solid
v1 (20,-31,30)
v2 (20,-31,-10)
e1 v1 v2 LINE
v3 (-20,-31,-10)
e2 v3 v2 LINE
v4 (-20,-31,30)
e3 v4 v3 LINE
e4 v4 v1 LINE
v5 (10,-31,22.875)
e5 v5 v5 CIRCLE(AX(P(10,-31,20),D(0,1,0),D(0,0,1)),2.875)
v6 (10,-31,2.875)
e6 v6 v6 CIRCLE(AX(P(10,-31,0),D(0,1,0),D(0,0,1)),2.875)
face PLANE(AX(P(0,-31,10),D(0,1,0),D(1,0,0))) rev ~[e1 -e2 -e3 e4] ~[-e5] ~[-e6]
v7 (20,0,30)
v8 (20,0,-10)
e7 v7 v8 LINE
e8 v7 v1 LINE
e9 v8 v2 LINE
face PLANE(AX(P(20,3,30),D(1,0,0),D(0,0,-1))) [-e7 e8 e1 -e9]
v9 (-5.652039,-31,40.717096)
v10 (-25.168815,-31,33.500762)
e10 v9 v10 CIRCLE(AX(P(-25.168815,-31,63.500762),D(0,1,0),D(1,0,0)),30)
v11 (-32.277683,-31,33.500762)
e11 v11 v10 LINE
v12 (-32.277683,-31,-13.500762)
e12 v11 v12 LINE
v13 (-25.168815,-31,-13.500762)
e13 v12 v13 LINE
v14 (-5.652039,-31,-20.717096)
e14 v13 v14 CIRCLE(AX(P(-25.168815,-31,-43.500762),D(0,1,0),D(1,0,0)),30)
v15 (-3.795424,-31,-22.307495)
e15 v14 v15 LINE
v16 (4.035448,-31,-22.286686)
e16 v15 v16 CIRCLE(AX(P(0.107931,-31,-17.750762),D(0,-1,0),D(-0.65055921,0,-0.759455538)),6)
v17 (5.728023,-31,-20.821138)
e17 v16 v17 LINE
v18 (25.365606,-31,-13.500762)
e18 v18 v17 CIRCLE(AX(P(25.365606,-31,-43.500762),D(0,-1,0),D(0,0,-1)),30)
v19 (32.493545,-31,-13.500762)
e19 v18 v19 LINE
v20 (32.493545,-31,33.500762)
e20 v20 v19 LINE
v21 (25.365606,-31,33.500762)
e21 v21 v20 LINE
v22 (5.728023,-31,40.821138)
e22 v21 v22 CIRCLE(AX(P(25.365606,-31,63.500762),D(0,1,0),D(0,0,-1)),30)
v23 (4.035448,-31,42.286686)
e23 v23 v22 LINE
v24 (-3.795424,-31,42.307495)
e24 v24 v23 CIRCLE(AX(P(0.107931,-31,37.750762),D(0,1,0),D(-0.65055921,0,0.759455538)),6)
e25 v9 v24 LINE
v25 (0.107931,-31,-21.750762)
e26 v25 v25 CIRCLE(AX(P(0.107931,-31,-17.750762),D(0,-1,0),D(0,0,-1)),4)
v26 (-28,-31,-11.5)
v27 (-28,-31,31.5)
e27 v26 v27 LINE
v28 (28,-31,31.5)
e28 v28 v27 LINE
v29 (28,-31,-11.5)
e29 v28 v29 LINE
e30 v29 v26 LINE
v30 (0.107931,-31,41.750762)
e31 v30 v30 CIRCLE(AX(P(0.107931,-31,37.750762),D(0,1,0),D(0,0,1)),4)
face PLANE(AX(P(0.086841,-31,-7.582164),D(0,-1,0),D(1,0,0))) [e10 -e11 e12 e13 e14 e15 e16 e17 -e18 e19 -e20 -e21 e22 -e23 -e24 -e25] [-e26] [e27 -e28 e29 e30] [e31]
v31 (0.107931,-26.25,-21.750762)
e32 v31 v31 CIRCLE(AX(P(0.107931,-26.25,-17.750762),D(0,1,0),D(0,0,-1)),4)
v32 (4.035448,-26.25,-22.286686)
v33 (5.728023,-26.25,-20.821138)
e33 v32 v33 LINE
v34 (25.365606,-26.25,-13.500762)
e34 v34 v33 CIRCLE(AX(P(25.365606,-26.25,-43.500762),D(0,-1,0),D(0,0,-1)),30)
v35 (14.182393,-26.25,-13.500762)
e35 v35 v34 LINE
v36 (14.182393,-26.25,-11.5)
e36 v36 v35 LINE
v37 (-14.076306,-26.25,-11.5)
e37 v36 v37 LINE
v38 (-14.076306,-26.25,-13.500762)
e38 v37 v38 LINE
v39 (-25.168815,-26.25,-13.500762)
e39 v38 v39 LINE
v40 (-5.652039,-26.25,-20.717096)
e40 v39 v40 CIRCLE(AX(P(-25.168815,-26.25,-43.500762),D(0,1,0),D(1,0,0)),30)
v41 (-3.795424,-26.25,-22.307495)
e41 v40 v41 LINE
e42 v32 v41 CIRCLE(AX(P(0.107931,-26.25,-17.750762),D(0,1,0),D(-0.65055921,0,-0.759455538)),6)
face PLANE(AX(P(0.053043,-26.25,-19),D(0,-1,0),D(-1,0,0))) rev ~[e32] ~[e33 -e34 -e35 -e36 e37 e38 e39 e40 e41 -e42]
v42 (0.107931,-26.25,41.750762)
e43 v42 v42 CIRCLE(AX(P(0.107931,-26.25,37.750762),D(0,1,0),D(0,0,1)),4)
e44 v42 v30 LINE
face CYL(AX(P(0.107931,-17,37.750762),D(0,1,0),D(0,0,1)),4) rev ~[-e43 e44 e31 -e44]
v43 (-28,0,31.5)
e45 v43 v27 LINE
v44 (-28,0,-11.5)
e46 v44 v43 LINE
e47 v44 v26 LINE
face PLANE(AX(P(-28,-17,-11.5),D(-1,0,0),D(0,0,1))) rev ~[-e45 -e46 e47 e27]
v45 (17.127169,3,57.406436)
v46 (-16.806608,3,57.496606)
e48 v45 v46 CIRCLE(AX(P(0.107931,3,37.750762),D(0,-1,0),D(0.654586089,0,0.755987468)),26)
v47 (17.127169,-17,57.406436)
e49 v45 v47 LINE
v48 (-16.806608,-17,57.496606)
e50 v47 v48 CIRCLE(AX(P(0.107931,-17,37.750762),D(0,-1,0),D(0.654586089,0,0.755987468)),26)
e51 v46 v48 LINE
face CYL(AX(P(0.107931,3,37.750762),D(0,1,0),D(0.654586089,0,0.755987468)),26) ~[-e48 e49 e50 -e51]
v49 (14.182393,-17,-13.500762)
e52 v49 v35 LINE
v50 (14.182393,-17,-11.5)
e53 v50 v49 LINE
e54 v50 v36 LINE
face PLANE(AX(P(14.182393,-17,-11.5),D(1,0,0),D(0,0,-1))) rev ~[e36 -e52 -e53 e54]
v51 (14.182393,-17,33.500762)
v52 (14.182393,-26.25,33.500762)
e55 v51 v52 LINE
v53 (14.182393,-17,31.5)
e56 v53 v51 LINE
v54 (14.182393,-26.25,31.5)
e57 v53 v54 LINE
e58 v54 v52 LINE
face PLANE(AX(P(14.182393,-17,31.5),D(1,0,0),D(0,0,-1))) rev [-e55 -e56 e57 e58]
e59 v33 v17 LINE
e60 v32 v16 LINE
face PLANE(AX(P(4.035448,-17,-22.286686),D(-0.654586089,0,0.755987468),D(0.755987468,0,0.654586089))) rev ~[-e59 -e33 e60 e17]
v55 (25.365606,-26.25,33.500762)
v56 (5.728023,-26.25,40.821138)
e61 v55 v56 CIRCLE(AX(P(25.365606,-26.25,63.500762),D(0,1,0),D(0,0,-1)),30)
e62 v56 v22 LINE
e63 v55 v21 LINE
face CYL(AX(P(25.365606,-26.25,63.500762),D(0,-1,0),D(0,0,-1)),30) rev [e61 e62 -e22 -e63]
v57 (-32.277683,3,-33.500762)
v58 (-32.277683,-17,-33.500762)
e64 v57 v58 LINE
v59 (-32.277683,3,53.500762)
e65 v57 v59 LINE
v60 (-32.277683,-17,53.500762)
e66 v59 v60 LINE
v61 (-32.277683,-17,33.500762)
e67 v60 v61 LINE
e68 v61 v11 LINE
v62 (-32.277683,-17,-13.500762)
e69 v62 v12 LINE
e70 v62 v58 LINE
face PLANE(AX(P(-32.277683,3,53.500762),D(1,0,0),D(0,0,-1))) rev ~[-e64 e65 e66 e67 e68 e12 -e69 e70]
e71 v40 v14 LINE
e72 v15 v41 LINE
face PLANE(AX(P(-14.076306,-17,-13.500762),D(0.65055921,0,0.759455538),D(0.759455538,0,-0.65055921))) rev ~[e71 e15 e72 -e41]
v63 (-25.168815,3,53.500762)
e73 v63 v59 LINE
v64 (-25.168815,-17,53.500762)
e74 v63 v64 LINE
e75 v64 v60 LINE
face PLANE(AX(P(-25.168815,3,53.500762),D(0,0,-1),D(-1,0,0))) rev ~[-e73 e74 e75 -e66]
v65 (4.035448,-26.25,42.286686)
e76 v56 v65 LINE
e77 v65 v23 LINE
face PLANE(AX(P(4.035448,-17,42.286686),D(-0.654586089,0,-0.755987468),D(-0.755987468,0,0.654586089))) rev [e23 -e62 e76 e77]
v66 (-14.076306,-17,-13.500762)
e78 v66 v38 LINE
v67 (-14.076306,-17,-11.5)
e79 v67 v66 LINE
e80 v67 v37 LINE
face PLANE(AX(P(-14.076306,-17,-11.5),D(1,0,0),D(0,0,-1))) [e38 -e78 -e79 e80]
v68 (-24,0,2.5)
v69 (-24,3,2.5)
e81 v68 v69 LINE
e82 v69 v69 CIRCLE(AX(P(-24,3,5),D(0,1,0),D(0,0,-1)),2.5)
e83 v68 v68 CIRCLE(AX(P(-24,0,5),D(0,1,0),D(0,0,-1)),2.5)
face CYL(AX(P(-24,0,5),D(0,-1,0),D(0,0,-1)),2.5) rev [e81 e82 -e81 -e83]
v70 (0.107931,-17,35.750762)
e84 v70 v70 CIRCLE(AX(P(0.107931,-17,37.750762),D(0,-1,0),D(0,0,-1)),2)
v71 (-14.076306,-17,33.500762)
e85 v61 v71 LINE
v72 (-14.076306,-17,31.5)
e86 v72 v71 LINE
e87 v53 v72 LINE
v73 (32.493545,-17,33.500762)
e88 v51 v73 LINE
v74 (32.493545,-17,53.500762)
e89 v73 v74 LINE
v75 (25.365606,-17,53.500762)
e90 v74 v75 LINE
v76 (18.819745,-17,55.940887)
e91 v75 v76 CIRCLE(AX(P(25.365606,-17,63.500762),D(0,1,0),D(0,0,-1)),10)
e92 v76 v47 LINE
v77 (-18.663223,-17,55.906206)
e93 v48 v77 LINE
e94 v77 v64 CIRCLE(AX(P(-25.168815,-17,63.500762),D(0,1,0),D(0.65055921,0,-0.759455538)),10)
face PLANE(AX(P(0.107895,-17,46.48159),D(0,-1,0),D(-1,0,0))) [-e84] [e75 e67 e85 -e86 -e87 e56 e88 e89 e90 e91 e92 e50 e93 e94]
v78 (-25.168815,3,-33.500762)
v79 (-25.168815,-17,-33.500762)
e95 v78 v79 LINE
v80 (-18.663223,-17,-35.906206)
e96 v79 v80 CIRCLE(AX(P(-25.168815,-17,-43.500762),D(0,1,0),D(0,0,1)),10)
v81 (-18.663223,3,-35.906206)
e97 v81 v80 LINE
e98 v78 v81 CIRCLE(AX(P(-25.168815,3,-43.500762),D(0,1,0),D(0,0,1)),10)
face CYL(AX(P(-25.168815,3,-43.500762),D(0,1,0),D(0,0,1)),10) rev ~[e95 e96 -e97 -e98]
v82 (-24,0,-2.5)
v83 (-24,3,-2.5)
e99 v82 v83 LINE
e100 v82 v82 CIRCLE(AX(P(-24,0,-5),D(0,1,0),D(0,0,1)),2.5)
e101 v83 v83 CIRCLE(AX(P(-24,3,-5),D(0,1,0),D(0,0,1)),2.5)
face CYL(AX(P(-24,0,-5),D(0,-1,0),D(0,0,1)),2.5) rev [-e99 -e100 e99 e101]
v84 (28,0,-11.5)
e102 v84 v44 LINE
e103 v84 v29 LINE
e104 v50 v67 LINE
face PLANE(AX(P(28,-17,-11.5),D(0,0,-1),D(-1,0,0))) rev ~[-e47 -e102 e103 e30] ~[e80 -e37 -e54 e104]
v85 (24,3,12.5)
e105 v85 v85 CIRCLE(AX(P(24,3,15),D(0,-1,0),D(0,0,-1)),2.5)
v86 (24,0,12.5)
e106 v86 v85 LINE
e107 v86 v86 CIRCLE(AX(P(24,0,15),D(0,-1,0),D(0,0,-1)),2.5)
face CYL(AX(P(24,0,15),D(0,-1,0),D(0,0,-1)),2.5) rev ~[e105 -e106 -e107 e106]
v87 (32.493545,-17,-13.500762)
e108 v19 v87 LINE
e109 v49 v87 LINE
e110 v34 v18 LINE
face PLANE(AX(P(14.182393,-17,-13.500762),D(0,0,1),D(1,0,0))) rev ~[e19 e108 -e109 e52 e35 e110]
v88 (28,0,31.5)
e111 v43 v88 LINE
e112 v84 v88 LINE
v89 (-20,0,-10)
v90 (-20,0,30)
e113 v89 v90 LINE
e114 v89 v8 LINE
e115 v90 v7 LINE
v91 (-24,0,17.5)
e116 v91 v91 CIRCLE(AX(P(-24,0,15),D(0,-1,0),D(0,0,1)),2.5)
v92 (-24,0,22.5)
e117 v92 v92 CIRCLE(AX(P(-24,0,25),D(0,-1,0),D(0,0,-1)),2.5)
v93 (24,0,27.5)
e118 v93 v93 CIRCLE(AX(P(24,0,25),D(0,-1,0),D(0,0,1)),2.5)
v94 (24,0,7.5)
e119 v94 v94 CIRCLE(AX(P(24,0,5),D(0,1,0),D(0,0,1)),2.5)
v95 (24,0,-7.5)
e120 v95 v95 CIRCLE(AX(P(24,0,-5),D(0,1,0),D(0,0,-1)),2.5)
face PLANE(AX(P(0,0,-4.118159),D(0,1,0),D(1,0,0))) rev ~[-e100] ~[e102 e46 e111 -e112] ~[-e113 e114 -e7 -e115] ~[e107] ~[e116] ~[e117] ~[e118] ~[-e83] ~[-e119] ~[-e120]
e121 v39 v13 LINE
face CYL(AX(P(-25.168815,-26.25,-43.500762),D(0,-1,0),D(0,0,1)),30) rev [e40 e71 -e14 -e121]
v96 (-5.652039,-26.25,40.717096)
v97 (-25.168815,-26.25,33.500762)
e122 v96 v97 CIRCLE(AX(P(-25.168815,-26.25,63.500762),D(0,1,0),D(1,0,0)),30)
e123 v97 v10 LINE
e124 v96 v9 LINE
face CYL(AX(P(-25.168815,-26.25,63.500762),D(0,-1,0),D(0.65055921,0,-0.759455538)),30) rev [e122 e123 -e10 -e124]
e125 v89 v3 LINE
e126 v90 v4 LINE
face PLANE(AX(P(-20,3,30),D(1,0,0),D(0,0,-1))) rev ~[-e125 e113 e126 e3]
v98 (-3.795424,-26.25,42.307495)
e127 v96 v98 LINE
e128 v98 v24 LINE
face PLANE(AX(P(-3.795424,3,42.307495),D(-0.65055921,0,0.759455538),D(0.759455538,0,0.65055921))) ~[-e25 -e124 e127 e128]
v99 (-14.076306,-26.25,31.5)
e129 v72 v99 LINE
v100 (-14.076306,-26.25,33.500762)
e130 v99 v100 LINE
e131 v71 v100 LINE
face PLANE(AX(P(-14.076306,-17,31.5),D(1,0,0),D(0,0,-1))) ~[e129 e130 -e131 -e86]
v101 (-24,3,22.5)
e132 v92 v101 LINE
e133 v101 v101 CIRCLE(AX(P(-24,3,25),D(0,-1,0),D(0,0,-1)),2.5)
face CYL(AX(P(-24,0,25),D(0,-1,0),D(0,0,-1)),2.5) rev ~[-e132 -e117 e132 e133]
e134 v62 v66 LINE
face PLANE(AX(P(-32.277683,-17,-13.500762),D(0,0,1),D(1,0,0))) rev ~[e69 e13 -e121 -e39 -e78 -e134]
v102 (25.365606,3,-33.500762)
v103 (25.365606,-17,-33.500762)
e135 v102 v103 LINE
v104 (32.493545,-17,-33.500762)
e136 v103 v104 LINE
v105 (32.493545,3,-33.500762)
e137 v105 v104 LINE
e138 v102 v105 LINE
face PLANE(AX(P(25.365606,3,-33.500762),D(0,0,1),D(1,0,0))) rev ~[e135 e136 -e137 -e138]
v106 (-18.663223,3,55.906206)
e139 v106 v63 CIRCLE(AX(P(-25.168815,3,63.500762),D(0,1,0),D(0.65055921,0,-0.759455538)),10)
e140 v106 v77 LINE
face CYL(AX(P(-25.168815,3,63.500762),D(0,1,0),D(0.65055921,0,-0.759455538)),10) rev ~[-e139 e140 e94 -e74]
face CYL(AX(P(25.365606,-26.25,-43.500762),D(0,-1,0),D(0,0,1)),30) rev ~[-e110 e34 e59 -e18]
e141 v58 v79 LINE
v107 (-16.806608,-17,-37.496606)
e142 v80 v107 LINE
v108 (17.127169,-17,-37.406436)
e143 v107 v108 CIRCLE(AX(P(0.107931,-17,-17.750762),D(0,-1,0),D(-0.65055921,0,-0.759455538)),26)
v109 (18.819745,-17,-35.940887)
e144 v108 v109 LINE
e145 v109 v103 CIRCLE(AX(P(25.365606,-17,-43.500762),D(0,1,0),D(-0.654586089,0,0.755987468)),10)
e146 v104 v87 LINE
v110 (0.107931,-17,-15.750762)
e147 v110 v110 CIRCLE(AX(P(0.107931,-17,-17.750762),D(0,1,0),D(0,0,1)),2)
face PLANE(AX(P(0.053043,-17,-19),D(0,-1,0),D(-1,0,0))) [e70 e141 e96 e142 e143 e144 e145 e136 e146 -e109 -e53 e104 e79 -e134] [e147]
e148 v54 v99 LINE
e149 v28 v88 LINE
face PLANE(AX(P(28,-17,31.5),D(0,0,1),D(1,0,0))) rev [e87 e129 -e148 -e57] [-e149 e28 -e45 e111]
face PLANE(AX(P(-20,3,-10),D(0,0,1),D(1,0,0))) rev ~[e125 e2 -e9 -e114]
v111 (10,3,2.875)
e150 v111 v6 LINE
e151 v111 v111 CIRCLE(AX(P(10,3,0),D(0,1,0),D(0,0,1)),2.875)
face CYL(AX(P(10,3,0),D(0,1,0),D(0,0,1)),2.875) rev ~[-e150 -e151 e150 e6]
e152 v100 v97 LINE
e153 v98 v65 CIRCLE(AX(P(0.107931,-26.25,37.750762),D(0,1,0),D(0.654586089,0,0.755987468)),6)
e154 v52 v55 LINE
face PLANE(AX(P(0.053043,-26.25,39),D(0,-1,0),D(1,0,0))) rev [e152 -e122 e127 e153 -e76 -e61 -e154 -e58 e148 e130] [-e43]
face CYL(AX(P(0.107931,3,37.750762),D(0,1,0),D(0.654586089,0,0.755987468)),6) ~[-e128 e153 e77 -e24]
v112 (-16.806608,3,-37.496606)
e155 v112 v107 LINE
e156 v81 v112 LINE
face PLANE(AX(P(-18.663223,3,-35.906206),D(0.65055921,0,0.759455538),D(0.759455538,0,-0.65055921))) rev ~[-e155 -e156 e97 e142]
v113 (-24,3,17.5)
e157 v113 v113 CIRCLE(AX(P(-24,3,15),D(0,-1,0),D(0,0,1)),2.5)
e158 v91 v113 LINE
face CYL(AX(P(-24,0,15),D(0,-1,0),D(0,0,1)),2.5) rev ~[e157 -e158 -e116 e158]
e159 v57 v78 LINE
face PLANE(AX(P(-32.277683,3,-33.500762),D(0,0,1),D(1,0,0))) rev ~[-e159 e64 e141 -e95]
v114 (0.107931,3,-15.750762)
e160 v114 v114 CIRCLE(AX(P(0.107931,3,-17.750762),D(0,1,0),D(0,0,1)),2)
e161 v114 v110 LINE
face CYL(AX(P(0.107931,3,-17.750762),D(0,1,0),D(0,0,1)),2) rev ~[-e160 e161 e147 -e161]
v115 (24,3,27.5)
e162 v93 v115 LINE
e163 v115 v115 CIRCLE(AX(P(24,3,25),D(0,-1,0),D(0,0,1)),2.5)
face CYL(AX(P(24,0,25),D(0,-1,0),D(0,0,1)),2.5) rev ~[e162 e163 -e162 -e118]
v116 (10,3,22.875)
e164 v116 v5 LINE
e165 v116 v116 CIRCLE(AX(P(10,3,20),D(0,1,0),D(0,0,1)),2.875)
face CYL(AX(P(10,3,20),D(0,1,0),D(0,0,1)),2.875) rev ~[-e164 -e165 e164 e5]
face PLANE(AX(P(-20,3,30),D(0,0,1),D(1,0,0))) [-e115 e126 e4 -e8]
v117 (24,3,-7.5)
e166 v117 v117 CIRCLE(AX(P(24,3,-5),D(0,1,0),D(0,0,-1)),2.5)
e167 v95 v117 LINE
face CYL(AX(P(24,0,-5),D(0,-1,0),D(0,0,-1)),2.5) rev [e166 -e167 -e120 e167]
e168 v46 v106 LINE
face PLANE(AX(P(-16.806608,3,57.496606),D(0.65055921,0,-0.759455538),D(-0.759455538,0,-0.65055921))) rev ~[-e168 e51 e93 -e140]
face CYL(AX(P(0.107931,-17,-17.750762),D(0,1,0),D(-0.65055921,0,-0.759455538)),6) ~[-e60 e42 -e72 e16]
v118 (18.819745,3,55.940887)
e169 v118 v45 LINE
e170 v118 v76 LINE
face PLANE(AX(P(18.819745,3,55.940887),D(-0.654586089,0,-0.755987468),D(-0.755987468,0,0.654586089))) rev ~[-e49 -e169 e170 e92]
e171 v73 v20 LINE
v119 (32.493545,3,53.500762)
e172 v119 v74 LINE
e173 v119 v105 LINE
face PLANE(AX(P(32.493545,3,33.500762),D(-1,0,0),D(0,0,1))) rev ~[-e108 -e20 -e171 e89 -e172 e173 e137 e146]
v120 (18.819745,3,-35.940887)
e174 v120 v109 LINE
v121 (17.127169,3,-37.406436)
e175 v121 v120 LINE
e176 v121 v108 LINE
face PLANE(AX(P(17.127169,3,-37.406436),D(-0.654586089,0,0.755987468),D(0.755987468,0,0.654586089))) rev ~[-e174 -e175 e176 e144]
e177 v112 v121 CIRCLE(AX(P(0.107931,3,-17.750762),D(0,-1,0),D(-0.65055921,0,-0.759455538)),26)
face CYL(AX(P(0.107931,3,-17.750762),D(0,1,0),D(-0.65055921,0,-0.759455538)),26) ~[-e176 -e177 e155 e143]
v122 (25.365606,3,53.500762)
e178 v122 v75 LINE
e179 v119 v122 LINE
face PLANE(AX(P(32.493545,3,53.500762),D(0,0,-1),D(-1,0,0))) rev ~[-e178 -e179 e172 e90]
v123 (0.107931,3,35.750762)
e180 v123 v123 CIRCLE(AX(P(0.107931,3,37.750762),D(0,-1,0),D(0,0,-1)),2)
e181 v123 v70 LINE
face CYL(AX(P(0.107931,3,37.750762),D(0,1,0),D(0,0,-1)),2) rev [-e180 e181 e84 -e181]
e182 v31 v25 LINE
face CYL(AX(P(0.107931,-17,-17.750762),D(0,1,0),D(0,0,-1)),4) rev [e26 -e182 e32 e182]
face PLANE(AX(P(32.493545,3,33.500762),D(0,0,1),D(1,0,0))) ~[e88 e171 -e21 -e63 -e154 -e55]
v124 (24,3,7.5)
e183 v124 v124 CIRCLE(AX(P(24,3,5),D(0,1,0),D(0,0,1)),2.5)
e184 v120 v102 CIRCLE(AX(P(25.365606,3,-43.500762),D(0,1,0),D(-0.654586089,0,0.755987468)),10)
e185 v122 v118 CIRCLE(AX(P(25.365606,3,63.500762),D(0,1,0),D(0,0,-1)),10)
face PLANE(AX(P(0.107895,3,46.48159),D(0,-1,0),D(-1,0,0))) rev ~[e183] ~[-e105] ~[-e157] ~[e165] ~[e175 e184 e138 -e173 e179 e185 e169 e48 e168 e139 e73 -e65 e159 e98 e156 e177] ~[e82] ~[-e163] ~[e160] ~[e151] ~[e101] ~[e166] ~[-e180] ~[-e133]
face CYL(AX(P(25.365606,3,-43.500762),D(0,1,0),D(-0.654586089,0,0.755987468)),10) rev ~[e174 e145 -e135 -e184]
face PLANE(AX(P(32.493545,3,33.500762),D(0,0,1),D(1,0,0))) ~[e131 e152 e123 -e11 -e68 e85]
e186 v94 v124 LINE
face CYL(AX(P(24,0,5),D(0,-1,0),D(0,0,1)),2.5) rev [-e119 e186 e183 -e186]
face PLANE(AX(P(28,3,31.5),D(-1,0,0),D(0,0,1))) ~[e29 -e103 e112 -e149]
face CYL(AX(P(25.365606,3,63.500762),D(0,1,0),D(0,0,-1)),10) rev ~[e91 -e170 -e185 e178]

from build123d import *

# Parameters (mm, degrees)
SKETCH2_R           = 2.5
BOSS_EXTRUDE1_DEPTH = 3
BOSS_EXTRUDE2_DEPTH = 20
SKETCH4_R           = 2
BOSS_EXTRUDE3_DEPTH = 20
SKETCH6_R           = 4
BOSS_EXTRUDE5_DEPTH = 14
SKETCH7_W           = 28.258698574
SKETCH7_H           = 15
CUT_EXTRUDE1_DEPTH  = 9.25
FILLET1_R           = 30
SKETCH13_W          = 40
SKETCH13_H          = 40
BOSS_EXTRUDE8_DEPTH = 34
SKETCH14_R          = 2.875
CUT_EXTRUDE4_DEPTH  = 65.233633019
BOSS_EXTRUDE9_DEPTH = 20


with BuildPart() as part:
    # Sketch2 → Boss-Extrude1 (new body)
    with BuildSketch(Plane(origin=(0, 0, 0), x_dir=(1, 0, 0), z_dir=(0, 1, 0))):
        Polygon((-28, -11.5), (-20, -11.5), (-20, 10), (20, 10), (20, -11.5), (28, -11.5), (28, 11.5), (-28, 11.5), align=None)
        with Locations(Location((-24, 5, 0), (0, 0, 270))):
            Circle(SKETCH2_R, mode=Mode.SUBTRACT)
        with Locations(Location((-24, -5, 0), (0, 0, 90))):
            Circle(SKETCH2_R, mode=Mode.SUBTRACT)
        with Locations(Location((24, -5, 0), (0, 0, 270))):
            Circle(SKETCH2_R, mode=Mode.SUBTRACT)
        with Locations(Location((24, 5, 0), (0, 0, 90))):
            Circle(SKETCH2_R, mode=Mode.SUBTRACT)
    boss_extrude1 = extrude(amount=BOSS_EXTRUDE1_DEPTH)

    # Sketch3 → Boss-Extrude2 (add)
    with BuildSketch(Plane(origin=(0, 3, 0), x_dir=(1, 0, 0), z_dir=(0, 1, 0))):
        Polygon((-32.277683008, 10.5), (-32.277683008, -11.5), (-28, -11.5), (-28, 11.5), (28, 11.5), (28, -11.5), (32.493544997, -11.5), (32.493544997, 10.5), (32.493544997, 13.500761643), (-32.277683008, 13.500761643), align=None)
    boss_extrude2 = extrude(amount=-BOSS_EXTRUDE2_DEPTH)

    # Sketch4 → Boss-Extrude3 (add)
    with BuildSketch(Plane(origin=(0, 3, 0), x_dir=(1, 0, 0), z_dir=(0, 1, 0))):
        with BuildLine():
            Line((-3.795424266, 22.307494871), (-16.411972775, 11.5))
            Line((-16.411972775, 11.5), (16.493090482, 11.5))
            Line((16.493090482, 11.5), (4.035447529, 22.286686452))
            ThreePointArc((4.035447529, 22.286686452), (0.123874312, 23.75074046), (-3.795424266, 22.307494871))
        make_face()
        with Locations(Location((0.107930995, 17.750761643, 0), (0, 0, 270))):
            Circle(SKETCH4_R, mode=Mode.SUBTRACT)
    boss_extrude3 = extrude(amount=-BOSS_EXTRUDE3_DEPTH)

    # Sketch6 → Boss-Extrude5 (add)
    with BuildSketch(Plane.XZ.offset(17)):
        with BuildLine():
            Line((28, 11.5), (28, -11.5))
            Line((28, -11.5), (-28, -11.5))
            Line((-28, -11.5), (-28, 11.5))
            Line((-28, 11.5), (-32.277683008, 11.5))
            Line((-32.277683008, 11.5), (-32.277683008, -13.500761643))
            Line((-32.277683008, -13.500761643), (-14.076306034, -13.500761643))
            Line((-14.076306034, -13.500761643), (-3.795424266, -22.307494871))
            ThreePointArc((-3.795424266, -22.307494871), (0.123874312, -23.75074046), (4.035447529, -22.286686452))
            Line((4.035447529, -22.286686452), (14.18239254, -13.500761643))
            Line((14.18239254, -13.500761643), (32.493544997, -13.500761643))
            Line((32.493544997, -13.500761643), (32.493544997, 11.5))
            Line((32.493544997, 11.5), (28, 11.5))
        make_face()
        with Locations(Location((0.107930995, -17.750761643, 0), (0, 0, 270))):
            Circle(SKETCH6_R, mode=Mode.SUBTRACT)
    boss_extrude5 = extrude(amount=BOSS_EXTRUDE5_DEPTH)

    # Sketch7 → Cut-Extrude1 (cut)
    with BuildSketch(Plane(origin=(0, -17, 0), x_dir=(-1, 0, 0), z_dir=(0, -1, 0))):
        with Locations((-0.053043253, 19)):
            Rectangle(SKETCH7_W, SKETCH7_H)
    cut_extrude1 = extrude(amount=CUT_EXTRUDE1_DEPTH, mode=Mode.SUBTRACT)

    # Mirror1: Boss-Extrude1, Boss-Extrude2, Boss-Extrude3, Boss-Extrude5, Cut-Extrude1 across plane
    add(boss_extrude1.mirror(Plane.XY.offset(10)))
    add(boss_extrude2.mirror(Plane.XY.offset(10)))
    add(boss_extrude3.mirror(Plane.XY.offset(10)))
    add(boss_extrude5.mirror(Plane.XY.offset(10)))
    add(cut_extrude1.mirror(Plane.XY.offset(10)), mode=Mode.SUBTRACT)

    # Fillet1
    fillet1_edges = [part.edges().sort_by_distance(p)[0] for p in [
        (14.18239254, -28.625, -13.500761643),
        (-14.076306034, -7, -13.500761643),
        (14.18239254, -28.625, 33.500761643),
        (-14.076306034, -7, 33.500761643),
        (14.18239254, -7, 33.500761643),
        (-14.076306034, -28.625, 33.500761643),
        (-14.076306034, -28.625, -13.500761643),
        (14.18239254, -7, -13.500761643),
    ]]
    fillet(fillet1_edges, radius=FILLET1_R)

    # Sketch13 → Boss-Extrude8 (add)
    with BuildSketch(Plane(origin=(0, 3, 0), x_dir=(1, 0, 0), z_dir=(0, 1, 0))):
        with Locations((0, -10)):
            Rectangle(SKETCH13_W, SKETCH13_H)
    extrude(amount=-BOSS_EXTRUDE8_DEPTH)

    # Sketch14 → Cut-Extrude4 (cut, through all)
    with BuildSketch(Plane(origin=(0, 3, 0), x_dir=(1, 0, 0), z_dir=(0, 1, 0))):
        with Locations(Location((10, 0, 0), (0, 0, 270))):
            Circle(SKETCH14_R)
        with Locations(Location((10, -20, 0), (0, 0, 270))):
            Circle(SKETCH14_R)
    extrude(amount=-CUT_EXTRUDE4_DEPTH, mode=Mode.SUBTRACT)

    # Sketch15 → Boss-Extrude9 (add)
    with BuildSketch(Plane(origin=(0, 3, 0), x_dir=(1, 0, 0), z_dir=(0, 1, 0))):
        with BuildLine():
            ThreePointArc((25.365605991, -53.500761643), (21.872666456, -54.130629658), (18.8197451, -55.940886962))
            Line((18.8197451, -55.940886962), (17.127169311, -57.406435814))
            ThreePointArc((17.127169311, -57.406435814), (0.177018704, -63.750669852), (-16.806608467, -57.496605631))
            Line((-16.806608467, -57.496605631), (-18.663222883, -55.906206263))
            ThreePointArc((-18.663222883, -55.906206263), (-21.700786279, -54.121381232), (-25.168814984, -53.500761643))
            Line((-25.168814984, -53.500761643), (-32.277683008, -53.500761643))
            Line((-32.277683008, -53.500761643), (-32.277683008, -33.500761643))
            Line((-32.277683008, -33.500761643), (-25.168814984, -33.500761643))
            ThreePointArc((-25.168814984, -33.500761643), (-14.764728868, -35.362620409), (-5.652038682, -40.717095502))
            Line((-5.652038682, -40.717095502), (-3.795424266, -42.307494871))
            ThreePointArc((-3.795424266, -42.307494871), (0.123874312, -43.75074046), (4.035447529, -42.286686452))
            Line((4.035447529, -42.286686452), (5.728023318, -40.821137599))
            ThreePointArc((5.728023318, -40.821137599), (14.886787387, -35.39036569), (25.365605991, -33.500761643))
            Line((25.365605991, -33.500761643), (32.493544997, -33.500761643))
            Line((32.493544997, -33.500761643), (32.493544997, -53.500761643))
            Line((32.493544997, -53.500761643), (25.365605991, -53.500761643))
        make_face()
        with BuildLine():
            ThreePointArc((18.8197451, 35.940886962), (21.872666456, 34.130629658), (25.365605991, 33.500761643))
            Line((25.365605991, 33.500761643), (32.493544997, 33.500761643))
            Line((32.493544997, 33.500761643), (32.493544997, 13.500761643))
            Line((32.493544997, 13.500761643), (25.365605991, 13.500761643))
            ThreePointArc((25.365605991, 13.500761643), (14.886787387, 15.39036569), (5.728023318, 20.821137599))
            Line((5.728023318, 20.821137599), (4.035447529, 22.286686452))
            ThreePointArc((4.035447529, 22.286686452), (0.123874312, 23.75074046), (-3.795424266, 22.307494871))
            Line((-3.795424266, 22.307494871), (-5.652038682, 20.717095502))
            ThreePointArc((-5.652038682, 20.717095502), (-14.764728868, 15.362620409), (-25.168814984, 13.500761643))
            Line((-25.168814984, 13.500761643), (-32.277683008, 13.500761643))
            Line((-32.277683008, 13.500761643), (-32.277683008, 33.500761643))
            Line((-32.277683008, 33.500761643), (-25.168814984, 33.500761643))
            ThreePointArc((-25.168814984, 33.500761643), (-21.700786279, 34.121381232), (-18.663222883, 35.906206263))
            Line((-18.663222883, 35.906206263), (-16.806608467, 37.496605631))
            ThreePointArc((-16.806608467, 37.496605631), (0.177018704, 43.750669852), (17.127169311, 37.406435814))
            Line((17.127169311, 37.406435814), (18.8197451, 35.940886962))
        make_face()
    extrude(amount=-BOSS_EXTRUDE9_DEPTH)


solid = part.part
